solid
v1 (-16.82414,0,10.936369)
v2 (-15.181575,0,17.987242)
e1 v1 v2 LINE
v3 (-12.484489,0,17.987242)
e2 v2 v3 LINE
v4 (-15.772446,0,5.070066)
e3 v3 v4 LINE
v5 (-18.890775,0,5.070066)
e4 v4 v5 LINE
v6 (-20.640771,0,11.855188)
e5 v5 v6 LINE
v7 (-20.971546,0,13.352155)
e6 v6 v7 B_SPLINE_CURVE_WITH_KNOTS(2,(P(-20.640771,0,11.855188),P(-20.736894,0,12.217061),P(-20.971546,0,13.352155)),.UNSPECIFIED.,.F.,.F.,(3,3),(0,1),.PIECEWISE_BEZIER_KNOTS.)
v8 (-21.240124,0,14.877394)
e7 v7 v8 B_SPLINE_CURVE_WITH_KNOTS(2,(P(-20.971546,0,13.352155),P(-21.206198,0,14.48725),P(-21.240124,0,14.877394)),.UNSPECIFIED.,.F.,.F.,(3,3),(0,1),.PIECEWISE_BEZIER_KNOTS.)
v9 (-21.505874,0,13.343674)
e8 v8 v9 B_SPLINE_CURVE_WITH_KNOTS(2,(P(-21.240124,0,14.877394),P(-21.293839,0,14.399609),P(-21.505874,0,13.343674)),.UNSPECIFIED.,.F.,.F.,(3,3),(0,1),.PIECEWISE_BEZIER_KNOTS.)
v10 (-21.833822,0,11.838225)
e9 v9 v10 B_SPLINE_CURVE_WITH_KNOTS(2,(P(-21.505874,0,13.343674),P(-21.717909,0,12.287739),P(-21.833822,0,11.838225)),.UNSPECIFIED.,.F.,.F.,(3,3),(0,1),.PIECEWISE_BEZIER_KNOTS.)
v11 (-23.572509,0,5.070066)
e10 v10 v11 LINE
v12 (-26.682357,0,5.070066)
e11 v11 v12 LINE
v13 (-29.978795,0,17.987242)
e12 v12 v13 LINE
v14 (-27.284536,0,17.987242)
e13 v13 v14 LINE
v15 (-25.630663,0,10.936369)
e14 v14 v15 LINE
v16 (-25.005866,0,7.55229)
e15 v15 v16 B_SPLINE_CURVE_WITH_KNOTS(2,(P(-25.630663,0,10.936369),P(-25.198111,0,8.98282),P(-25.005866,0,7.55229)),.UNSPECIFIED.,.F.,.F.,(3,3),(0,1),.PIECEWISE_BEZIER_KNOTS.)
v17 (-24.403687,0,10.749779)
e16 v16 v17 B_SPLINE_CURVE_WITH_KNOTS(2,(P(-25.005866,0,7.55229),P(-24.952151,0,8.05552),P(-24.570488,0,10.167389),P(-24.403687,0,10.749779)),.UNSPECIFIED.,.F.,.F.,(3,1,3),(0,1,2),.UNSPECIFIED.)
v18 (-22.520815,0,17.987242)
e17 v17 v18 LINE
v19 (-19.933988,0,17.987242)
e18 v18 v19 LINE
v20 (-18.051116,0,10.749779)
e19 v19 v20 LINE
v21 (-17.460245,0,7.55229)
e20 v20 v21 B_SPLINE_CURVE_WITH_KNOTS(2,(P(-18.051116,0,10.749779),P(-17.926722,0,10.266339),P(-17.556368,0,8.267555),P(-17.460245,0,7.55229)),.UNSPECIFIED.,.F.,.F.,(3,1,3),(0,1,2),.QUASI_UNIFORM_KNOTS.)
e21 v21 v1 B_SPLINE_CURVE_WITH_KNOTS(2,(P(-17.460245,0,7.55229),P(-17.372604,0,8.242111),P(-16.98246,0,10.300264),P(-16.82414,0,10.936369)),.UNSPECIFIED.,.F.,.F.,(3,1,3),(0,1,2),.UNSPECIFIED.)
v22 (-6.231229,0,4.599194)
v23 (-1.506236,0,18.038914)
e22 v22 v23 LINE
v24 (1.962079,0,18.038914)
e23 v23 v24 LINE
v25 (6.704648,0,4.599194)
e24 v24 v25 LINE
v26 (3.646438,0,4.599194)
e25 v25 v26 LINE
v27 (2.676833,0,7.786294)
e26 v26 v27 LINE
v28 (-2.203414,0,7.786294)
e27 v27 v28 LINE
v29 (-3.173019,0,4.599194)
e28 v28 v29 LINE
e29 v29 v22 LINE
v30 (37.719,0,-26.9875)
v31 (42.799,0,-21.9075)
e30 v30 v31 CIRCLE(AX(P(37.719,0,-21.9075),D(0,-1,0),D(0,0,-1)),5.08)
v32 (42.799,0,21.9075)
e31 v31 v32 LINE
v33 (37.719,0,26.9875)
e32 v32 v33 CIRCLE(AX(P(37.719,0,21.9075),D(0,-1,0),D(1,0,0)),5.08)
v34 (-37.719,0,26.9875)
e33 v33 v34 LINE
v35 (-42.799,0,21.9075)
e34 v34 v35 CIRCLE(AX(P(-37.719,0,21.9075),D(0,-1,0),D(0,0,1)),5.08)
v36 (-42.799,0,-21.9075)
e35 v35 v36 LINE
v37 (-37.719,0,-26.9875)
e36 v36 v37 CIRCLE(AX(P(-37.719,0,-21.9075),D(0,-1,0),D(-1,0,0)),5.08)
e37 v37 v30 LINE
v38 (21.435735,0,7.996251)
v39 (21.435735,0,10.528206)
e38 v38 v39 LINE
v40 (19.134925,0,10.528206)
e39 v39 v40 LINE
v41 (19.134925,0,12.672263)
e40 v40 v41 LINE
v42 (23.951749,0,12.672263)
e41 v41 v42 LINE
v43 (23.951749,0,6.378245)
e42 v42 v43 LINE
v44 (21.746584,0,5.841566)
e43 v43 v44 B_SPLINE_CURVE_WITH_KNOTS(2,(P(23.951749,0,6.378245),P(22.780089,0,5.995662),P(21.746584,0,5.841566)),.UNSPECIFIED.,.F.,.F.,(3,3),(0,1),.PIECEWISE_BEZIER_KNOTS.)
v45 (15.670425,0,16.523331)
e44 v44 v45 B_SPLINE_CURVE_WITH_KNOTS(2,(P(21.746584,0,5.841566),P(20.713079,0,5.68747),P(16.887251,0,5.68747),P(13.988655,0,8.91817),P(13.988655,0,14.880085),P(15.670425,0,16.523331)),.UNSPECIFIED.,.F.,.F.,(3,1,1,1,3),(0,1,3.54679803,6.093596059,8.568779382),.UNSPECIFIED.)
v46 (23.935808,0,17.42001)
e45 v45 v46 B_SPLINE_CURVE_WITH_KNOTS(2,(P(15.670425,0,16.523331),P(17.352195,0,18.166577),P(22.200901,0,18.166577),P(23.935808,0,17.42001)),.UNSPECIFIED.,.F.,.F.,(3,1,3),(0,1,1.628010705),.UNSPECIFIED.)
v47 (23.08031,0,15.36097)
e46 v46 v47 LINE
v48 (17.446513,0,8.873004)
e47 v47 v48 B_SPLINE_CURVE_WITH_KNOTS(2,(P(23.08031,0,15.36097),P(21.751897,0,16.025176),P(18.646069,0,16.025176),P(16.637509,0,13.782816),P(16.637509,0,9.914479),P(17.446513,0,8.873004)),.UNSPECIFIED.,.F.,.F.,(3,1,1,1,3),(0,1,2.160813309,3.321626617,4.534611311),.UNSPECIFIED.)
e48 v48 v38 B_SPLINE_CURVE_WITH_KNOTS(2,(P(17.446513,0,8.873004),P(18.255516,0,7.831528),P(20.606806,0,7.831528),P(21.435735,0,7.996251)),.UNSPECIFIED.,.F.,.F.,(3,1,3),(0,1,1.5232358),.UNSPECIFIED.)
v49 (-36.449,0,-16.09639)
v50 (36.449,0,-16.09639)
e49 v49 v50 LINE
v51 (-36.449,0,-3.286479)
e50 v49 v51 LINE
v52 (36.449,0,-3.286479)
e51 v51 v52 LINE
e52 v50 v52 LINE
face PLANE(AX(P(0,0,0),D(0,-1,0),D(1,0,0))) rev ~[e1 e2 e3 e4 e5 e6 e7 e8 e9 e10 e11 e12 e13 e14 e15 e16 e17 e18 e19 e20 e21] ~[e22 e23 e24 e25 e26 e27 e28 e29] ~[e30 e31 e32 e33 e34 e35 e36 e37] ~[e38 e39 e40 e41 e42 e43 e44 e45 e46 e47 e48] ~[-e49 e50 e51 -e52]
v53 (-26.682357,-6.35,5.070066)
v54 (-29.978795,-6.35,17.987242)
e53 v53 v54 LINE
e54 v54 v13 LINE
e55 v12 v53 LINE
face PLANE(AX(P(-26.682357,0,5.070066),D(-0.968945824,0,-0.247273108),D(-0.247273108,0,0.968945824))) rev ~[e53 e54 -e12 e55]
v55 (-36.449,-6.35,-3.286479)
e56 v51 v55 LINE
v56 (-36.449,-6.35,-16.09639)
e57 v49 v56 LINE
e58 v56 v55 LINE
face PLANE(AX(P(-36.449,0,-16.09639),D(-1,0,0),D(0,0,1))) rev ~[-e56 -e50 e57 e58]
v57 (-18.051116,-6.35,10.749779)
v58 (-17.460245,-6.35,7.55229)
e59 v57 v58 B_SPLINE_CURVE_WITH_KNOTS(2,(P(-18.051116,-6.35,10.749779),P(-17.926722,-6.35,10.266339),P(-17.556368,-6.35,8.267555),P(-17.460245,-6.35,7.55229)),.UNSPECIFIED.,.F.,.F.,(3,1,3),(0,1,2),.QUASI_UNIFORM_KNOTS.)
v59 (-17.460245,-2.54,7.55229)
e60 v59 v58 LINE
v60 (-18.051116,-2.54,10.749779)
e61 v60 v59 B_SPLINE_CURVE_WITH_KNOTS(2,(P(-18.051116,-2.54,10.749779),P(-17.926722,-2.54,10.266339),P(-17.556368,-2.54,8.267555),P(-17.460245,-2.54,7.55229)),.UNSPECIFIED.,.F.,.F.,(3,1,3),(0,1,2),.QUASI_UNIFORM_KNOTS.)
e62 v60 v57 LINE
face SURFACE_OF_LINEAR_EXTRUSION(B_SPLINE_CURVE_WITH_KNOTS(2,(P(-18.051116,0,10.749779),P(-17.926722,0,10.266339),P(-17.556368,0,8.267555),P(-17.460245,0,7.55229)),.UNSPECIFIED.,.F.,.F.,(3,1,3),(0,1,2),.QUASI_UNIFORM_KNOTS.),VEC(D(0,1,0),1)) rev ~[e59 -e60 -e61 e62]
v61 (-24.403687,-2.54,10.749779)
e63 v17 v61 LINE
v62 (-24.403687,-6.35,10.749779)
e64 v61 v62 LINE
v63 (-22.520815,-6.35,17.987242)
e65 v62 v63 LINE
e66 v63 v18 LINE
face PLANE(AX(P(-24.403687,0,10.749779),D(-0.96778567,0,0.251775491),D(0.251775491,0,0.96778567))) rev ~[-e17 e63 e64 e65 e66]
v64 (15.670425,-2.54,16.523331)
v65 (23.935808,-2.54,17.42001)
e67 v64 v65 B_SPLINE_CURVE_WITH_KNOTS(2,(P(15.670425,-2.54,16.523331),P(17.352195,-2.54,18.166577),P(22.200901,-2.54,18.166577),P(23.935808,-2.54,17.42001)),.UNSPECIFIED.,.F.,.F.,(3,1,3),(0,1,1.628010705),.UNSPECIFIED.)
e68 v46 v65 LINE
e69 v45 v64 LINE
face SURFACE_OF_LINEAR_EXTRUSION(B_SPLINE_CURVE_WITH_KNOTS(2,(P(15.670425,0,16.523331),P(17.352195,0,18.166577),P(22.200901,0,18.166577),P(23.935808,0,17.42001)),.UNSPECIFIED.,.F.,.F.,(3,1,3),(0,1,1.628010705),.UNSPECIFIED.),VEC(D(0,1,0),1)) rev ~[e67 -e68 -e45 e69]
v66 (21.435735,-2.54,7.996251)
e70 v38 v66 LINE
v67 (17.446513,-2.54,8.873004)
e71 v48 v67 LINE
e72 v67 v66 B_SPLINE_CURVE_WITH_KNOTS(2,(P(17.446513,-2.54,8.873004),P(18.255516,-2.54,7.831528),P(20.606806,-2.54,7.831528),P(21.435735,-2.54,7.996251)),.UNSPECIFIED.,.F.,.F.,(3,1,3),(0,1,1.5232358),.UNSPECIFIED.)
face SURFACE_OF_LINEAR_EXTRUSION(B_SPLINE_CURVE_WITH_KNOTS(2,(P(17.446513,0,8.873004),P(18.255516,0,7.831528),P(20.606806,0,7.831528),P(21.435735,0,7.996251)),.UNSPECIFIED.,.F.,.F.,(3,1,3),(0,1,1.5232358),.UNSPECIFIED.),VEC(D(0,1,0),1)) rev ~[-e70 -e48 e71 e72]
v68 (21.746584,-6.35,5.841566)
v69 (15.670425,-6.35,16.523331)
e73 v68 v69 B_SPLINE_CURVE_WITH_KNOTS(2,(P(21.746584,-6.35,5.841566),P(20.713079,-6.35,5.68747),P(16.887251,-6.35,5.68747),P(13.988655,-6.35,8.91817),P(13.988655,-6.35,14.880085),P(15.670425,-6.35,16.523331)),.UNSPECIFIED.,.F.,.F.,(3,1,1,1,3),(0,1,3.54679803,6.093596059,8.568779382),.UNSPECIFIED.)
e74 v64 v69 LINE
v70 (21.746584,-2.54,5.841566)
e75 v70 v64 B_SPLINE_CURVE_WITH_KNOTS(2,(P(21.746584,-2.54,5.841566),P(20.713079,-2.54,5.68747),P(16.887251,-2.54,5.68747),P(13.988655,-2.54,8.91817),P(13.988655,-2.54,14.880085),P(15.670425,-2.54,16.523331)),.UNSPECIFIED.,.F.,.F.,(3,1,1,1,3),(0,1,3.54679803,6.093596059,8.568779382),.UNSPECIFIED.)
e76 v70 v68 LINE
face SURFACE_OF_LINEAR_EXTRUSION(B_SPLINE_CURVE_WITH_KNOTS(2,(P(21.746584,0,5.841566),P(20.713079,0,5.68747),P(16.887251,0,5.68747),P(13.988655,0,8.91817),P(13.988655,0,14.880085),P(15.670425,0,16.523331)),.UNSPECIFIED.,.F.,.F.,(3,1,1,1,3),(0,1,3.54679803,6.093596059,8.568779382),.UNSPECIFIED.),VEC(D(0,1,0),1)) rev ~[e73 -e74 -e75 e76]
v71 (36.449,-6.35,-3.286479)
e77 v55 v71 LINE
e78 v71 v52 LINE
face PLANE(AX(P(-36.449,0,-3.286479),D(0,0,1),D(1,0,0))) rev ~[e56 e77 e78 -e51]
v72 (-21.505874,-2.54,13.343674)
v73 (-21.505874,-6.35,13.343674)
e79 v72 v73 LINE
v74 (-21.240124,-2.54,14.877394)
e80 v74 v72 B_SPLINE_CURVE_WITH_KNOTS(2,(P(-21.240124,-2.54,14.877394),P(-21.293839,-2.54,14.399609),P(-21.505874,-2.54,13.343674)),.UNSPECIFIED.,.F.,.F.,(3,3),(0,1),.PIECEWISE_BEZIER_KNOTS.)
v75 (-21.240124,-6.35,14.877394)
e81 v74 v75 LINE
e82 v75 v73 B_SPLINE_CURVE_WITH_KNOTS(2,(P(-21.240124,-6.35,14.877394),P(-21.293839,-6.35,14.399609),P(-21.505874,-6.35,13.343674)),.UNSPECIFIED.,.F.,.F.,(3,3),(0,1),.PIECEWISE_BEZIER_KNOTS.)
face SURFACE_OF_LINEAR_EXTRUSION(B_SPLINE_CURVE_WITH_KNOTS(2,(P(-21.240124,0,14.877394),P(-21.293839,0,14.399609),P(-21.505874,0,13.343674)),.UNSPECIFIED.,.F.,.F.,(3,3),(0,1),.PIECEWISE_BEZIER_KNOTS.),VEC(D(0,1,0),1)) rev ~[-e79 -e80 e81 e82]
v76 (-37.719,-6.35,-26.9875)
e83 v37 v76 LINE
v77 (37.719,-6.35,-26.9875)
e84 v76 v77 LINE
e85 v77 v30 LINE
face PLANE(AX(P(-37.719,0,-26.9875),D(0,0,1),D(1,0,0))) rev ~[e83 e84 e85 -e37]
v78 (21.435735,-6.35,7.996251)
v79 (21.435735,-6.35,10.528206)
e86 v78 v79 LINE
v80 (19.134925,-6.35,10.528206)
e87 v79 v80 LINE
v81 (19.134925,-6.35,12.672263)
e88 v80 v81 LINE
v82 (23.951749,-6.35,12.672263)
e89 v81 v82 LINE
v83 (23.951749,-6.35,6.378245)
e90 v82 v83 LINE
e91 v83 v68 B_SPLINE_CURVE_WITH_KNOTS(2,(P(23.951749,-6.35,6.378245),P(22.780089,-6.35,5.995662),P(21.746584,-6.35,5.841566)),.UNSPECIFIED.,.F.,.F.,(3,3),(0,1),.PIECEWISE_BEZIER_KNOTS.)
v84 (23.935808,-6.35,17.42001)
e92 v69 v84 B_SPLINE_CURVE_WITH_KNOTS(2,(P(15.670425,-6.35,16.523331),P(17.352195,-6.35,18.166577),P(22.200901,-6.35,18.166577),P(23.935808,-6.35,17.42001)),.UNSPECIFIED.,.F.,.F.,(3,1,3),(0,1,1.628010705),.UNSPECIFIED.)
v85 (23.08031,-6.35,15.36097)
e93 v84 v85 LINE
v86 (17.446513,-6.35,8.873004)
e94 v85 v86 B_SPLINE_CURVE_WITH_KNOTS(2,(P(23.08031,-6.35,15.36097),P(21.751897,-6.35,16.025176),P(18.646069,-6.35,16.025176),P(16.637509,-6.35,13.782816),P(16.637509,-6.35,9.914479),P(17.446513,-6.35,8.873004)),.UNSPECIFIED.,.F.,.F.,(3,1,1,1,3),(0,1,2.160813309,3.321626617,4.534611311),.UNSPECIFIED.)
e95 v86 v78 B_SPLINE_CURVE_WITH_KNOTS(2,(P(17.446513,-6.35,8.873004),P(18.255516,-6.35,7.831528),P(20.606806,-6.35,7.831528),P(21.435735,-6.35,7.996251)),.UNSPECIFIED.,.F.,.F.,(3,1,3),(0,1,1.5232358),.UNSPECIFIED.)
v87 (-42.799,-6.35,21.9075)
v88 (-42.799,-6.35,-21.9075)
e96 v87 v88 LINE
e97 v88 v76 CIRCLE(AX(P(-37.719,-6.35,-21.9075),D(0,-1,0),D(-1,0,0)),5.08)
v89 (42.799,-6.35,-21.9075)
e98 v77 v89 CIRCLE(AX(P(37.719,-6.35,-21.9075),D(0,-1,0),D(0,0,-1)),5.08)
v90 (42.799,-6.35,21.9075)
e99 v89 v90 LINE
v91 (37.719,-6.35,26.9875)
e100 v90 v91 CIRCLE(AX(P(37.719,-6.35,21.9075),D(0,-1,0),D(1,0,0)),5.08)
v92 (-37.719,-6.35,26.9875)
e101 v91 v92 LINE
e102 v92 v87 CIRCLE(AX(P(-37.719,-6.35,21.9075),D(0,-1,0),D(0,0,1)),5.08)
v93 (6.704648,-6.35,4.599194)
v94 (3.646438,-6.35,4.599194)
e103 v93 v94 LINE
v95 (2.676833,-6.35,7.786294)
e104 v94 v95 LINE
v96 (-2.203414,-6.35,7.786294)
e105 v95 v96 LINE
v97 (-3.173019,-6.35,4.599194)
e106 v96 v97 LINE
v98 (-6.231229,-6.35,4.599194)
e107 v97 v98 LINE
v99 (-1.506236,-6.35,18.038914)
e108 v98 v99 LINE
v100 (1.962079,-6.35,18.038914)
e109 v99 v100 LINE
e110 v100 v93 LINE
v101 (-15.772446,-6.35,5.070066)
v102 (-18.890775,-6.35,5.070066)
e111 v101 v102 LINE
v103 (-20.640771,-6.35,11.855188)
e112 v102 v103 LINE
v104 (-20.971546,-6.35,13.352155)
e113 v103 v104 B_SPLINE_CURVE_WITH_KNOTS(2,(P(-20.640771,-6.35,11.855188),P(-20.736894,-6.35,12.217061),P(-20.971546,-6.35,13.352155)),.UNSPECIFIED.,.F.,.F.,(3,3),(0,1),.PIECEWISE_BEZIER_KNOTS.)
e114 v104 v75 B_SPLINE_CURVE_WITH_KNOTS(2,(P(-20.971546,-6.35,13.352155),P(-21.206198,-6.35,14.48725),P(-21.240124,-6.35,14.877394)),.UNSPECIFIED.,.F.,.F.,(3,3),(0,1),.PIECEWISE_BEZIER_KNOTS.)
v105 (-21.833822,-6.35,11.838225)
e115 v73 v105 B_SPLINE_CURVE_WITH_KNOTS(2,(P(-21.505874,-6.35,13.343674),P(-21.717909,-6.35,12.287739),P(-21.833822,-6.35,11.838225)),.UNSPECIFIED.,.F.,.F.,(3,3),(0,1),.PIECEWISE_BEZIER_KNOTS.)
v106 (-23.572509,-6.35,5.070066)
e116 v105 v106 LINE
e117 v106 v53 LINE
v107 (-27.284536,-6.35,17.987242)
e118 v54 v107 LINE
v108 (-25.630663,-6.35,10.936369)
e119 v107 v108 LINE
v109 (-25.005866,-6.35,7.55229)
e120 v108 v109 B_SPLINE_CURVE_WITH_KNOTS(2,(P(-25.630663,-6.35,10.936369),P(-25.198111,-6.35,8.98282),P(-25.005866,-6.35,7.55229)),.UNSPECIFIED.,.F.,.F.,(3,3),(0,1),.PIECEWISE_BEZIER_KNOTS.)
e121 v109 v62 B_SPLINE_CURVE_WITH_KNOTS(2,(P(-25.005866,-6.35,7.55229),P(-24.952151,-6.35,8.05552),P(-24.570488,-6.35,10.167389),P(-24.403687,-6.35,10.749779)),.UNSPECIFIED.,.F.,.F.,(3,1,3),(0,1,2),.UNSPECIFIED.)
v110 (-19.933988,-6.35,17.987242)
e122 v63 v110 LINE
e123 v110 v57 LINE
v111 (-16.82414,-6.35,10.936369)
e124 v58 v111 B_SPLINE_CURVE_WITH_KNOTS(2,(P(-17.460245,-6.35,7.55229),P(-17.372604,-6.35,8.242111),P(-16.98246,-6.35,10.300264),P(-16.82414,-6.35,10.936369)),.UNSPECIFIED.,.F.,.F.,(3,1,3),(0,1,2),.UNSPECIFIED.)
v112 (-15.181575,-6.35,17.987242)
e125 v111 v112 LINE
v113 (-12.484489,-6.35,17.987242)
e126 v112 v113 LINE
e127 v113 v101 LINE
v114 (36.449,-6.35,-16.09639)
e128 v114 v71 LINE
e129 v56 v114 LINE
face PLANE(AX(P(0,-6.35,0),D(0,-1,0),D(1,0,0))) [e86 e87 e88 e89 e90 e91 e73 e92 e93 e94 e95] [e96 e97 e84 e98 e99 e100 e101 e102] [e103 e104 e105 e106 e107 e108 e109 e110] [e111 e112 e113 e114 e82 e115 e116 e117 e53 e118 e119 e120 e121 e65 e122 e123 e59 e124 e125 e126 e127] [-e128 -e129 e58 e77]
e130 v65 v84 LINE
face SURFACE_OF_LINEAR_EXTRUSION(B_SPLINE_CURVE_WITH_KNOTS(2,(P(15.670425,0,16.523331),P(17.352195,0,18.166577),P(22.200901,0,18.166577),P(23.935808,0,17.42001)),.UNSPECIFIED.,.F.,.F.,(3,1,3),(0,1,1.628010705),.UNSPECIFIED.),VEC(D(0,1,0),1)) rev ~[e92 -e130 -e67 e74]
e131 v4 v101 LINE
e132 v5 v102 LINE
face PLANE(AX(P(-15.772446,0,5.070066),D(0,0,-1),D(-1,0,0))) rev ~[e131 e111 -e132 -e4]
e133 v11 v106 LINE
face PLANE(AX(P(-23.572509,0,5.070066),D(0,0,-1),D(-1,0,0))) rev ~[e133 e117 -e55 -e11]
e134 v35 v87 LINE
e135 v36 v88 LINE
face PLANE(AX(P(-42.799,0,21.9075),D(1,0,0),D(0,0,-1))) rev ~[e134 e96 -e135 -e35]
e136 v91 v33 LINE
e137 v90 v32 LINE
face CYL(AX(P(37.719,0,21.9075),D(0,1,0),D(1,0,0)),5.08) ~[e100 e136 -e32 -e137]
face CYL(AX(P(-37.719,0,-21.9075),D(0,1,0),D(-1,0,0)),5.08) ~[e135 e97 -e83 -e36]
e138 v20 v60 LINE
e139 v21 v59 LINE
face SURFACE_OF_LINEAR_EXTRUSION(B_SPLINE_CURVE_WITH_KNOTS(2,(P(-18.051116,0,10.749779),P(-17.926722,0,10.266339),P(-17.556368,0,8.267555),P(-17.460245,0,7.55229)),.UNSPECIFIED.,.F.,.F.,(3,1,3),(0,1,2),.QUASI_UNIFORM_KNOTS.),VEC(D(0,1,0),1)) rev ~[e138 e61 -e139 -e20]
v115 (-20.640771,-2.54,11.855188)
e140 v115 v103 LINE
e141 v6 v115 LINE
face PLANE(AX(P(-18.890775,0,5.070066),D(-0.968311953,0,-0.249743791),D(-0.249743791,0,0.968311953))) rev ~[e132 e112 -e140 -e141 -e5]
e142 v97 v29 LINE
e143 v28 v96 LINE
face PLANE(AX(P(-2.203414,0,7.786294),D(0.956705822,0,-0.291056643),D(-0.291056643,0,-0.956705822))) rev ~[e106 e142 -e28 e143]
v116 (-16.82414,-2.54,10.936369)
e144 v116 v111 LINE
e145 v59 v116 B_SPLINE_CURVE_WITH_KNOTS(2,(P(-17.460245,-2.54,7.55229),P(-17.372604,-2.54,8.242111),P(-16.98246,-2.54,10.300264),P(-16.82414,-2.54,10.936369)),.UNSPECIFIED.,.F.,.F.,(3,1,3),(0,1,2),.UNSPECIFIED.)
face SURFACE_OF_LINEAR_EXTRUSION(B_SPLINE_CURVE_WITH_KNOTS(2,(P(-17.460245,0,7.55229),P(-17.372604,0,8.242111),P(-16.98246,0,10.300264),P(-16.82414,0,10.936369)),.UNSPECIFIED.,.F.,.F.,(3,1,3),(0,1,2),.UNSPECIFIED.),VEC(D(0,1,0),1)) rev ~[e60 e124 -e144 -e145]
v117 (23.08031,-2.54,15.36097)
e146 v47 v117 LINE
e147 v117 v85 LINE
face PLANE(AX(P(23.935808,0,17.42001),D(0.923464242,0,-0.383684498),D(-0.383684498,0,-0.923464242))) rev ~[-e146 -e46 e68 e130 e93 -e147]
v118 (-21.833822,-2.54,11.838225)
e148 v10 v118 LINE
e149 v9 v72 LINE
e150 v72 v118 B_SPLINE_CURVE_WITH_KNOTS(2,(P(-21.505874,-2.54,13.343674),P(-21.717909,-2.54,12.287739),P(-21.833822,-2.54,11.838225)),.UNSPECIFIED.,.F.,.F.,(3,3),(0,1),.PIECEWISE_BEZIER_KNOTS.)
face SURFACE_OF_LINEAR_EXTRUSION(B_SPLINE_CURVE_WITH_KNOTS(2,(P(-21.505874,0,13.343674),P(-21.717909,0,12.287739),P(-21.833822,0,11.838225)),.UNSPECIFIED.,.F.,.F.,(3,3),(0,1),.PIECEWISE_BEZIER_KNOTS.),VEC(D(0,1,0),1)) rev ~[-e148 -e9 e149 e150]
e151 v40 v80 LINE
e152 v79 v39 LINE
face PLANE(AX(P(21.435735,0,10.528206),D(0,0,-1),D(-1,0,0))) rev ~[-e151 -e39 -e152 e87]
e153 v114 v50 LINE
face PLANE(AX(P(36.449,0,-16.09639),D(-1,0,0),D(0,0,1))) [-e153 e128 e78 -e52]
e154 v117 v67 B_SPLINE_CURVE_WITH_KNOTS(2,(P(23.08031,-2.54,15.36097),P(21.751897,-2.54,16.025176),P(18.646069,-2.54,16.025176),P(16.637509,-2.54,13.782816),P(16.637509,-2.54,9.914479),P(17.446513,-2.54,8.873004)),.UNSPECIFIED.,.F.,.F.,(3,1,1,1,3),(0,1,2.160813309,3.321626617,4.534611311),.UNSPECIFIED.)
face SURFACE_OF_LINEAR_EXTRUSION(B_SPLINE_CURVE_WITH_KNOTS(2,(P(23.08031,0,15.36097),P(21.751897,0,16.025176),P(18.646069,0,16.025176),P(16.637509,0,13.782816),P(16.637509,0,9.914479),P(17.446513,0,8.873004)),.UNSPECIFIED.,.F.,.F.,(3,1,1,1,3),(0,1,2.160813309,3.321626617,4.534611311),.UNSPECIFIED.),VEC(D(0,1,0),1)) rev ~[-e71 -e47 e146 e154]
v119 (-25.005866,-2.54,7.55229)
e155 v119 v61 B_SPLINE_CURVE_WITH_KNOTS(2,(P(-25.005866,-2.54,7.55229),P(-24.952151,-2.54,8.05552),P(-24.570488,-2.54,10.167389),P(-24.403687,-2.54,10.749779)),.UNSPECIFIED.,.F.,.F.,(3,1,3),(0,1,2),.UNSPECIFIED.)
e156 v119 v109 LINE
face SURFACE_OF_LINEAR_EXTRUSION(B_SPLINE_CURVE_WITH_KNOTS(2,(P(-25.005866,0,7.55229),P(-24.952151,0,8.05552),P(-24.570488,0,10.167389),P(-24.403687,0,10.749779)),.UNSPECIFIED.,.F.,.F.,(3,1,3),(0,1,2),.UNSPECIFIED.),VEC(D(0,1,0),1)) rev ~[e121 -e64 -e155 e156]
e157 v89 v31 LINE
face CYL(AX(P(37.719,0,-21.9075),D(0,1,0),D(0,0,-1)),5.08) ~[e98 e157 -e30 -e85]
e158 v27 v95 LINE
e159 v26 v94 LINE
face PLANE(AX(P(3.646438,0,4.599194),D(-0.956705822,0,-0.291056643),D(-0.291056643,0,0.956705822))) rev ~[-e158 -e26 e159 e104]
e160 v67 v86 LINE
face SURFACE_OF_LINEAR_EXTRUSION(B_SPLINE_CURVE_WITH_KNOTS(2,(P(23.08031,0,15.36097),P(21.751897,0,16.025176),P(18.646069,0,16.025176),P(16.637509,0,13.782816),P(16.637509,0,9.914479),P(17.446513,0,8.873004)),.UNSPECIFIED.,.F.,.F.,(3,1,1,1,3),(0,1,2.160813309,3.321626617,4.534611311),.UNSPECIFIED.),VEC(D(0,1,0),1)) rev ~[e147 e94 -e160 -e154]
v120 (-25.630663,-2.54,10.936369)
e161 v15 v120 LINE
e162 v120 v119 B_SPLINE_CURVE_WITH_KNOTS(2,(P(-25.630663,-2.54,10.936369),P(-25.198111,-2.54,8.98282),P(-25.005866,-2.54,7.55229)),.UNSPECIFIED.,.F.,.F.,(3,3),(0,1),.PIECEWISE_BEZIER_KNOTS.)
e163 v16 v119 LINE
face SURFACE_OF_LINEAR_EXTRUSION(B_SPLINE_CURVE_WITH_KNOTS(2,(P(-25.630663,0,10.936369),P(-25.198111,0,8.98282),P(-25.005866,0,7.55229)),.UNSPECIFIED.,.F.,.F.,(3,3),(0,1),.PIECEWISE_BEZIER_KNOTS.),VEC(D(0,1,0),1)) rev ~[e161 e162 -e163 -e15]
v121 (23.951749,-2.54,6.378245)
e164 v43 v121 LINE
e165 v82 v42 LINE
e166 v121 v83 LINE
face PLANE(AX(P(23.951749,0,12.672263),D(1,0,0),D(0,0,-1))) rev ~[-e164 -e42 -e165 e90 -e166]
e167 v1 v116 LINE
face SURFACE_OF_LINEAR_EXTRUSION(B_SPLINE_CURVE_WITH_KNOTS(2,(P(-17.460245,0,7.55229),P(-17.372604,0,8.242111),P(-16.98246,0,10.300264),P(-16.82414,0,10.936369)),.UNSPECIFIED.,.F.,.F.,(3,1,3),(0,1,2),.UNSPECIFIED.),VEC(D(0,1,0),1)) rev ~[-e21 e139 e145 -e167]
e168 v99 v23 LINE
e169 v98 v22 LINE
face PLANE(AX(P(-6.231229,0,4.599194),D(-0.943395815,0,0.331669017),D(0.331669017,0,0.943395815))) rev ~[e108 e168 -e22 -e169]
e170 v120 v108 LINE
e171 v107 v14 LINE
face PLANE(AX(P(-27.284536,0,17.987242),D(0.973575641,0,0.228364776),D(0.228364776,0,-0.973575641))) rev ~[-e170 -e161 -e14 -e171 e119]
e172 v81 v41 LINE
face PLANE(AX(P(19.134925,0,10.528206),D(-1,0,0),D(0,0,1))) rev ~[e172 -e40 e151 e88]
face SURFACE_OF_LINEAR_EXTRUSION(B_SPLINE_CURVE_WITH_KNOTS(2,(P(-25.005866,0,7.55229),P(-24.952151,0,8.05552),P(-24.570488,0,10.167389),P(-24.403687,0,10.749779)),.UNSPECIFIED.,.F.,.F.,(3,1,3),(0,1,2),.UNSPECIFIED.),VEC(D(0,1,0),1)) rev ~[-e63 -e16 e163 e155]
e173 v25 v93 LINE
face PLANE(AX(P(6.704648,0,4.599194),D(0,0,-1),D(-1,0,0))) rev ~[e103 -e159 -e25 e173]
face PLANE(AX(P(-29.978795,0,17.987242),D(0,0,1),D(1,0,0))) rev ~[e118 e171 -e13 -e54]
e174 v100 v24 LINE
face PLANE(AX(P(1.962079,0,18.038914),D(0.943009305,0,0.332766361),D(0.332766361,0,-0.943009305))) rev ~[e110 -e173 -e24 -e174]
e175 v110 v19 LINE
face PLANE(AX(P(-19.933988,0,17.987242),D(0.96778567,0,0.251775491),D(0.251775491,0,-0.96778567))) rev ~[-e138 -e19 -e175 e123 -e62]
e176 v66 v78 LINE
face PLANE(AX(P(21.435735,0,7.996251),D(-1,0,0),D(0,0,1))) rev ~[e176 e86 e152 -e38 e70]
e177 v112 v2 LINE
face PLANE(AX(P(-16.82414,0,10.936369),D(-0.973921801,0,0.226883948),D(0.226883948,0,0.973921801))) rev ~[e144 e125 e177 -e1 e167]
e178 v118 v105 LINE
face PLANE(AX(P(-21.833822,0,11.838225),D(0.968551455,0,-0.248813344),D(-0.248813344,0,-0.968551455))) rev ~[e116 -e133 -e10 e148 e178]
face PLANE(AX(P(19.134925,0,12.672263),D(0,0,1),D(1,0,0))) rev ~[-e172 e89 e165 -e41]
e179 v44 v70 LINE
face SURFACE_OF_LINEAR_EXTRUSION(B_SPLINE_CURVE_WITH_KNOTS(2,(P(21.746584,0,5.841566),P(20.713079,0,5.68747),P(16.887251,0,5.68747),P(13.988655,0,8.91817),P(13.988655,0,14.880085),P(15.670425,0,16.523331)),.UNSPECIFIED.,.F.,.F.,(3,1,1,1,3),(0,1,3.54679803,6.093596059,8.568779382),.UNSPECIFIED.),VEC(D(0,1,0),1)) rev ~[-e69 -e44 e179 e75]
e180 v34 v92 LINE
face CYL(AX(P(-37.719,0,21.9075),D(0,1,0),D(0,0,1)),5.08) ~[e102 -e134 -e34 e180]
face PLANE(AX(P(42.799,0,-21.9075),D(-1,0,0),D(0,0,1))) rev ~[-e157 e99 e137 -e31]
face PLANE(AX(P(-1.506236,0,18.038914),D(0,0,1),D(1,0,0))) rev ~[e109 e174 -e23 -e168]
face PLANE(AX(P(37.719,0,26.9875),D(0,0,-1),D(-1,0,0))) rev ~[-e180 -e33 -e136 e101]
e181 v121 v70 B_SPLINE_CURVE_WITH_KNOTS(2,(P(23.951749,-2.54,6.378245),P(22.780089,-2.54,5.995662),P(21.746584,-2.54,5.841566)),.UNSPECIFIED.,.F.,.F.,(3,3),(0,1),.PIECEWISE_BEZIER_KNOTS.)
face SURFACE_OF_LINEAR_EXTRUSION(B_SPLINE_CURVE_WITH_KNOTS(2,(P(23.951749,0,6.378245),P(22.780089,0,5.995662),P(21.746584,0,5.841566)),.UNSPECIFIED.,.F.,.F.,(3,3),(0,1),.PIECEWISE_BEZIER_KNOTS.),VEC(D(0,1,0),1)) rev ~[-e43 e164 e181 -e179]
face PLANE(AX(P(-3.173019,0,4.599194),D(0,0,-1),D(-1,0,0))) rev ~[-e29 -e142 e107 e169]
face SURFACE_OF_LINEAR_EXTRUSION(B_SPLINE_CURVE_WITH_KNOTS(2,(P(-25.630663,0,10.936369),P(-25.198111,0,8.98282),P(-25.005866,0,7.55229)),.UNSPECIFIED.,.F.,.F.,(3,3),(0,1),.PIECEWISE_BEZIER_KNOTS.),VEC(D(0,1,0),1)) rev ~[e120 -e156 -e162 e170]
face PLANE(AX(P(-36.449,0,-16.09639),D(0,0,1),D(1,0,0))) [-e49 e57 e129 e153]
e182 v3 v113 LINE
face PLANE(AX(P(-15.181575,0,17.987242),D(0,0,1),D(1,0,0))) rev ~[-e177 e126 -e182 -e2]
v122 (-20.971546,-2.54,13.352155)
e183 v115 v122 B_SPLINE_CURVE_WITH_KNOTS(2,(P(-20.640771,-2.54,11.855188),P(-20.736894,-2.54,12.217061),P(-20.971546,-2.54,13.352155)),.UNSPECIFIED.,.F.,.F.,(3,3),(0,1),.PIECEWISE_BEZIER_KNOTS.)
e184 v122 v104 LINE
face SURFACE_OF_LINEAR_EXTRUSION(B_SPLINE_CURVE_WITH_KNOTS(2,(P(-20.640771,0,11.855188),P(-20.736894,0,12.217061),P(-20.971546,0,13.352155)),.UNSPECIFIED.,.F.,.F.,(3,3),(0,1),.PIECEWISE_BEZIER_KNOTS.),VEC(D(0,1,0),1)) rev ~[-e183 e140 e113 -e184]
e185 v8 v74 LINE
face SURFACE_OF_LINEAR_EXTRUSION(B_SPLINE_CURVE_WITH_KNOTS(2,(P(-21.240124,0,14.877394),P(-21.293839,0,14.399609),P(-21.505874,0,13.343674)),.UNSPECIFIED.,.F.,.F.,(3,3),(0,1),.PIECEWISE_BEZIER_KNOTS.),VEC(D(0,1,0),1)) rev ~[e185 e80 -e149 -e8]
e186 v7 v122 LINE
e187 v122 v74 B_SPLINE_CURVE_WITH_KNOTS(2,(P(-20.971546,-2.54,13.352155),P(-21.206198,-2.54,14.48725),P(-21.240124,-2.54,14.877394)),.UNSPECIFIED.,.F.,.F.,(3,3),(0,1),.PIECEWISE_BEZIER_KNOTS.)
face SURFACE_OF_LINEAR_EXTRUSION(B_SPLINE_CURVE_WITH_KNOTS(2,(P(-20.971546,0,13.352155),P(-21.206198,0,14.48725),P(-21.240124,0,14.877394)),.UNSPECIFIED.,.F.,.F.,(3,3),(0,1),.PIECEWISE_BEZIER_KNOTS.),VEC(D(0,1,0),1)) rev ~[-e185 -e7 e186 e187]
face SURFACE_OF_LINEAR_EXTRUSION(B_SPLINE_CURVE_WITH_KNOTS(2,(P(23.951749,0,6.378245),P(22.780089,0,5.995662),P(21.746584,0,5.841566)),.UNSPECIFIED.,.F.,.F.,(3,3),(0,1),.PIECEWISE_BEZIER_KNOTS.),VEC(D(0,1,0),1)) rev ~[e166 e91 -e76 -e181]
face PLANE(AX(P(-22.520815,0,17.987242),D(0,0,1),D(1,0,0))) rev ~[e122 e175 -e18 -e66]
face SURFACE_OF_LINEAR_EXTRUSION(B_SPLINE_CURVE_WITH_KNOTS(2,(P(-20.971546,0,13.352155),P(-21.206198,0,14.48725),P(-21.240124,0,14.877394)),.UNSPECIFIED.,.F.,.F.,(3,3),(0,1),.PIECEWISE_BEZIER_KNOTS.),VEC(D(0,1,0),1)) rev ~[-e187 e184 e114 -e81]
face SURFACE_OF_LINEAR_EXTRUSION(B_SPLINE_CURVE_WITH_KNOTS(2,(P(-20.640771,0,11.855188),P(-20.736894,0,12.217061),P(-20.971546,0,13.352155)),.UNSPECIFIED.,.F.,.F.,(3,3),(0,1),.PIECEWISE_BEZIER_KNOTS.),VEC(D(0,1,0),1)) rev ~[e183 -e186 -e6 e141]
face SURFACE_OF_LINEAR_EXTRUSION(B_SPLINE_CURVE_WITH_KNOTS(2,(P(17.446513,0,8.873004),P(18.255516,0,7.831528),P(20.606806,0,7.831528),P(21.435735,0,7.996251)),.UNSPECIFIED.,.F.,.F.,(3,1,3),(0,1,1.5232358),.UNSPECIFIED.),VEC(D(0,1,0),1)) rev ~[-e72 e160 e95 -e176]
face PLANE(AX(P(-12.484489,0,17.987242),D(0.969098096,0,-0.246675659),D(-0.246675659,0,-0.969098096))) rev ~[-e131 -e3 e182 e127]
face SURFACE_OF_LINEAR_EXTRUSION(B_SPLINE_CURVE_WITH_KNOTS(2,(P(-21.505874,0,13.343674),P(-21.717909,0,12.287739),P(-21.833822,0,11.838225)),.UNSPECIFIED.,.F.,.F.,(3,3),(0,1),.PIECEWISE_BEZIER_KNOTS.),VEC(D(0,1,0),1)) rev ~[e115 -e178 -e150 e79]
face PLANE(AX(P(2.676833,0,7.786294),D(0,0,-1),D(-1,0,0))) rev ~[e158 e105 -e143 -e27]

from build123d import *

# Parameters (mm, degrees)
F0_W     = 72.898
F0_H     = 12.8099111192
F1_DEPTH = 2.54
F2_DEPTH = 6.35


with BuildPart() as f1:
    # F0 (on Front) → F1 (new body)
    with BuildSketch(Plane.XZ):
        with BuildLine():
            Line((37.719, 26.9875), (-37.719, 26.9875))
            ThreePointArc((-37.719, 26.9875), (-41.3111024484, 25.4996024484), (-42.799, 21.9075))
            Line((-42.799, 21.9075), (-42.799, -21.9075))
            ThreePointArc((-42.799, -21.9075), (-41.3111024484, -25.4996024484), (-37.719, -26.9875))
            Line((-37.719, -26.9875), (37.719, -26.9875))
            ThreePointArc((37.719, -26.9875), (41.3111024484, -25.4996024484), (42.799, -21.9075))
            Line((42.799, -21.9075), (42.799, 21.9075))
            ThreePointArc((42.799, 21.9075), (41.3111024484, 25.4996024484), (37.719, 26.9875))
        make_face()
        with Locations((0, -9.6914345084)):
            Rectangle(F0_W, F0_H, mode=Mode.SUBTRACT)
        with BuildLine():
            Line((-12.4844893827, 17.9872417715), (-15.7724463003, 5.0700662284))
            Line((-15.7724463003, 5.0700662284), (-18.890775174, 5.0700662284))
            Line((-18.890775174, 5.0700662284), (-20.6407711603, 11.8551879844))
            add(Edge.make_bspline(
                [(-20.6407711603, 11.8551879844), (-20.7368937185, 12.2170611447), (-20.9715458459, 13.3521554719)],
                knots=[0, 0, 0, 1, 1, 1], degree=2))
            add(Edge.make_bspline(
                [(-20.9715458459, 13.3521554719), (-21.2061979733, 14.487249799), (-21.2401235821, 14.8773942999)],
                knots=[0, 0, 0, 1, 1, 1], degree=2))
            add(Edge.make_bspline(
                [(-21.2401235821, 14.8773942999), (-21.2938391293, 14.3996086429), (-21.5058741842, 13.3436740697)],
                knots=[0, 0, 0, 1, 1, 1], degree=2))
            add(Edge.make_bspline(
                [(-21.5058741842, 13.3436740697), (-21.7179092391, 12.2877394964), (-21.8338217357, 11.83822518)],
                knots=[0, 0, 0, 1, 1, 1], degree=2))
            Line((-21.8338217357, 11.83822518), (-23.5725091857, 5.0700662284))
            Line((-23.5725091857, 5.0700662284), (-26.6823566572, 5.0700662284))
            Line((-26.6823566572, 5.0700662284), (-29.9787949771, 17.9872417715))
            Line((-29.9787949771, 17.9872417715), (-27.2845362131, 17.9872417715))
            Line((-27.2845362131, 17.9872417715), (-25.6306627851, 10.9363694133))
            add(Edge.make_bspline(
                [(-25.6306627851, 10.9363694133), (-25.1981112731, 8.9828197744), (-25.0058661567, 7.5522899375)],
                knots=[0, 0, 0, 1, 1, 1], degree=2))
            add(Edge.make_bspline(
                [(-25.0058661567, 7.5522899375), (-24.9521506095, 8.055519801), (-24.7613190601, 9.1114543743)],
                knots=[0, 0, 0, 1, 1, 1], degree=2))
            add(Edge.make_bspline(
                [(-24.7613190601, 9.1114543743), (-24.5704875107, 10.1673889476), (-24.4036866008, 10.749778565)],
                knots=[0, 0, 0, 1, 1, 1], degree=2))
            Line((-24.4036866008, 10.749778565), (-22.5208153135, 17.9872417715))
            Line((-22.5208153135, 17.9872417715), (-19.933987644, 17.9872417715))
            Line((-19.933987644, 17.9872417715), (-18.0511163567, 10.749778565))
            add(Edge.make_bspline(
                [(-18.0511163567, 10.749778565), (-17.9267224579, 10.2663386399), (-17.7415451766, 9.2669467479)],
                knots=[0, 0, 0, 1, 1, 1], degree=2))
            add(Edge.make_bspline(
                [(-17.7415451766, 9.2669467479), (-17.5563678953, 8.2675548559), (-17.4602453371, 7.5522899375)],
                knots=[0, 0, 0, 1, 1, 1], degree=2))
            add(Edge.make_bspline(
                [(-17.4602453371, 7.5522899375), (-17.3726041811, 8.2421106493), (-17.1775319306, 9.271187449)],
                knots=[0, 0, 0, 1, 1, 1], degree=2))
            add(Edge.make_bspline(
                [(-17.1775319306, 9.271187449), (-16.9824596801, 10.3002642487), (-16.8241401725, 10.9363694133)],
                knots=[0, 0, 0, 1, 1, 1], degree=2))
            Line((-16.8241401725, 10.9363694133), (-15.1815752807, 17.9872417715))
            Line((-15.1815752807, 17.9872417715), (-12.4844893827, 17.9872417715))
        make_face(mode=Mode.SUBTRACT)
        Polygon((6.7046481006, 4.5991937256), (3.6464380853, 4.5991937256), (2.6768331858, 7.7862938182), (-2.2034138309, 7.7862938182), (-3.1730187304, 4.5991937256), (-6.2312287457, 4.5991937256), (-1.5062356857, 18.0389136012), (1.962079121, 18.0389136012), align=None, mode=Mode.SUBTRACT)
        with BuildLine():
            Line((19.1349248409, 10.5282055244), (19.1349248409, 12.6722633137))
            Line((19.1349248409, 12.6722633137), (23.9517485981, 12.6722633137))
            Line((23.9517485981, 12.6722633137), (23.9517485981, 6.3782448466))
            add(Edge.make_bspline(
                [(23.9517485981, 6.3782448466), (22.7800887653, 5.9956620441), (21.7465838334, 5.841566193)],
                knots=[0, 0, 0, 1, 1, 1], degree=2))
            add(Edge.make_bspline(
                [(21.7465838334, 5.841566193), (20.7130789015, 5.687470342), (19.6344079443, 5.687470342)],
                knots=[0, 0, 0, 1, 1, 1], degree=2))
            add(Edge.make_bspline(
                [(19.6344079443, 5.687470342), (16.8872508759, 5.687470342), (15.4379528287, 7.3028199528)],
                knots=[0, 0, 0, 1, 1, 1], degree=2))
            add(Edge.make_bspline(
                [(15.4379528287, 7.3028199528), (13.9886547815, 8.9181695636), (13.9886547815, 11.9416364338)],
                knots=[0, 0, 0, 1, 1, 1], degree=2))
            add(Edge.make_bspline(
                [(13.9886547815, 11.9416364338), (13.9886547815, 14.8800849035), (15.6704250177, 16.523331177)],
                knots=[0, 0, 0, 1, 1, 1], degree=2))
            add(Edge.make_bspline(
                [(15.6704250177, 16.523331177), (17.352195254, 18.1665774505), (20.3304960989, 18.1665774505)],
                knots=[0, 0, 0, 1, 1, 1], degree=2))
            add(Edge.make_bspline(
                [(20.3304960989, 18.1665774505), (22.2009009114, 18.1665774505), (23.935807648, 17.4200096205)],
                knots=[0, 0, 0, 1, 1, 1], degree=2))
            Line((23.935807648, 17.4200096205), (23.0803099923, 15.3609702317))
            add(Edge.make_bspline(
                [(23.0803099923, 15.3609702317), (21.7518974834, 16.0251764861), (20.3145551488, 16.0251764861)],
                knots=[0, 0, 0, 1, 1, 1], degree=2))
            add(Edge.make_bspline(
                [(20.3145551488, 16.0251764861), (18.6460690376, 16.0251764861), (17.6417891809, 14.9039963286)],
                knots=[0, 0, 0, 1, 1, 1], degree=2))
            add(Edge.make_bspline(
                [(17.6417891809, 14.9039963286), (16.6375093242, 13.7828161711), (16.6375093242, 11.8911567585)],
                knots=[0, 0, 0, 1, 1, 1], degree=2))
            add(Edge.make_bspline(
                [(16.6375093242, 11.8911567585), (16.6375093242, 9.9144789453), (17.4465125421, 8.8730035383)],
                knots=[0, 0, 0, 1, 1, 1], degree=2))
            add(Edge.make_bspline(
                [(17.4465125421, 8.8730035383), (18.25551576, 7.8315281314), (19.7991310954, 7.8315281314)],
                knots=[0, 0, 0, 1, 1, 1], degree=2))
            add(Edge.make_bspline(
                [(19.7991310954, 7.8315281314), (20.6068059008, 7.8315281314), (21.4357353063, 7.9962512825)],
                knots=[0, 0, 0, 1, 1, 1], degree=2))
            Line((21.4357353063, 7.9962512825), (21.4357353063, 10.5282055244))
            Line((21.4357353063, 10.5282055244), (19.1349248409, 10.5282055244))
        make_face(mode=Mode.SUBTRACT)
    extrude(amount=F1_DEPTH)

    # F0 (on Front) → F2 (join)
    with BuildSketch(Plane.XZ):
        with BuildLine():
            Line((37.719, 26.9875), (-37.719, 26.9875))
            ThreePointArc((-37.719, 26.9875), (-41.3111024484, 25.4996024484), (-42.799, 21.9075))
            Line((-42.799, 21.9075), (-42.799, -21.9075))
            ThreePointArc((-42.799, -21.9075), (-41.3111024484, -25.4996024484), (-37.719, -26.9875))
            Line((-37.719, -26.9875), (37.719, -26.9875))
            ThreePointArc((37.719, -26.9875), (41.3111024484, -25.4996024484), (42.799, -21.9075))
            Line((42.799, -21.9075), (42.799, 21.9075))
            ThreePointArc((42.799, 21.9075), (41.3111024484, 25.4996024484), (37.719, 26.9875))
        make_face()
        with Locations((0, -9.6914345084)):
            Rectangle(F0_W, F0_H, mode=Mode.SUBTRACT)
        with BuildLine():
            Line((-12.4844893827, 17.9872417715), (-15.7724463003, 5.0700662284))
            Line((-15.7724463003, 5.0700662284), (-18.890775174, 5.0700662284))
            Line((-18.890775174, 5.0700662284), (-20.6407711603, 11.8551879844))
            add(Edge.make_bspline(
                [(-20.6407711603, 11.8551879844), (-20.7368937185, 12.2170611447), (-20.9715458459, 13.3521554719)],
                knots=[0, 0, 0, 1, 1, 1], degree=2))
            add(Edge.make_bspline(
                [(-20.9715458459, 13.3521554719), (-21.2061979733, 14.487249799), (-21.2401235821, 14.8773942999)],
                knots=[0, 0, 0, 1, 1, 1], degree=2))
            add(Edge.make_bspline(
                [(-21.2401235821, 14.8773942999), (-21.2938391293, 14.3996086429), (-21.5058741842, 13.3436740697)],
                knots=[0, 0, 0, 1, 1, 1], degree=2))
            add(Edge.make_bspline(
                [(-21.5058741842, 13.3436740697), (-21.7179092391, 12.2877394964), (-21.8338217357, 11.83822518)],
                knots=[0, 0, 0, 1, 1, 1], degree=2))
            Line((-21.8338217357, 11.83822518), (-23.5725091857, 5.0700662284))
            Line((-23.5725091857, 5.0700662284), (-26.6823566572, 5.0700662284))
            Line((-26.6823566572, 5.0700662284), (-29.9787949771, 17.9872417715))
            Line((-29.9787949771, 17.9872417715), (-27.2845362131, 17.9872417715))
            Line((-27.2845362131, 17.9872417715), (-25.6306627851, 10.9363694133))
            add(Edge.make_bspline(
                [(-25.6306627851, 10.9363694133), (-25.1981112731, 8.9828197744), (-25.0058661567, 7.5522899375)],
                knots=[0, 0, 0, 1, 1, 1], degree=2))
            add(Edge.make_bspline(
                [(-25.0058661567, 7.5522899375), (-24.9521506095, 8.055519801), (-24.7613190601, 9.1114543743)],
                knots=[0, 0, 0, 1, 1, 1], degree=2))
            add(Edge.make_bspline(
                [(-24.7613190601, 9.1114543743), (-24.5704875107, 10.1673889476), (-24.4036866008, 10.749778565)],
                knots=[0, 0, 0, 1, 1, 1], degree=2))
            Line((-24.4036866008, 10.749778565), (-22.5208153135, 17.9872417715))
            Line((-22.5208153135, 17.9872417715), (-19.933987644, 17.9872417715))
            Line((-19.933987644, 17.9872417715), (-18.0511163567, 10.749778565))
            add(Edge.make_bspline(
                [(-18.0511163567, 10.749778565), (-17.9267224579, 10.2663386399), (-17.7415451766, 9.2669467479)],
                knots=[0, 0, 0, 1, 1, 1], degree=2))
            add(Edge.make_bspline(
                [(-17.7415451766, 9.2669467479), (-17.5563678953, 8.2675548559), (-17.4602453371, 7.5522899375)],
                knots=[0, 0, 0, 1, 1, 1], degree=2))
            add(Edge.make_bspline(
                [(-17.4602453371, 7.5522899375), (-17.3726041811, 8.2421106493), (-17.1775319306, 9.271187449)],
                knots=[0, 0, 0, 1, 1, 1], degree=2))
            add(Edge.make_bspline(
                [(-17.1775319306, 9.271187449), (-16.9824596801, 10.3002642487), (-16.8241401725, 10.9363694133)],
                knots=[0, 0, 0, 1, 1, 1], degree=2))
            Line((-16.8241401725, 10.9363694133), (-15.1815752807, 17.9872417715))
            Line((-15.1815752807, 17.9872417715), (-12.4844893827, 17.9872417715))
        make_face(mode=Mode.SUBTRACT)
        Polygon((6.7046481006, 4.5991937256), (3.6464380853, 4.5991937256), (2.6768331858, 7.7862938182), (-2.2034138309, 7.7862938182), (-3.1730187304, 4.5991937256), (-6.2312287457, 4.5991937256), (-1.5062356857, 18.0389136012), (1.962079121, 18.0389136012), align=None, mode=Mode.SUBTRACT)
        with BuildLine():
            Line((19.1349248409, 10.5282055244), (19.1349248409, 12.6722633137))
            Line((19.1349248409, 12.6722633137), (23.9517485981, 12.6722633137))
            Line((23.9517485981, 12.6722633137), (23.9517485981, 6.3782448466))
            add(Edge.make_bspline(
                [(23.9517485981, 6.3782448466), (22.7800887653, 5.9956620441), (21.7465838334, 5.841566193)],
                knots=[0, 0, 0, 1, 1, 1], degree=2))
            add(Edge.make_bspline(
                [(21.7465838334, 5.841566193), (20.7130789015, 5.687470342), (19.6344079443, 5.687470342)],
                knots=[0, 0, 0, 1, 1, 1], degree=2))
            add(Edge.make_bspline(
                [(19.6344079443, 5.687470342), (16.8872508759, 5.687470342), (15.4379528287, 7.3028199528)],
                knots=[0, 0, 0, 1, 1, 1], degree=2))
            add(Edge.make_bspline(
                [(15.4379528287, 7.3028199528), (13.9886547815, 8.9181695636), (13.9886547815, 11.9416364338)],
                knots=[0, 0, 0, 1, 1, 1], degree=2))
            add(Edge.make_bspline(
                [(13.9886547815, 11.9416364338), (13.9886547815, 14.8800849035), (15.6704250177, 16.523331177)],
                knots=[0, 0, 0, 1, 1, 1], degree=2))
            add(Edge.make_bspline(
                [(15.6704250177, 16.523331177), (17.352195254, 18.1665774505), (20.3304960989, 18.1665774505)],
                knots=[0, 0, 0, 1, 1, 1], degree=2))
            add(Edge.make_bspline(
                [(20.3304960989, 18.1665774505), (22.2009009114, 18.1665774505), (23.935807648, 17.4200096205)],
                knots=[0, 0, 0, 1, 1, 1], degree=2))
            Line((23.935807648, 17.4200096205), (23.0803099923, 15.3609702317))
            add(Edge.make_bspline(
                [(23.0803099923, 15.3609702317), (21.7518974834, 16.0251764861), (20.3145551488, 16.0251764861)],
                knots=[0, 0, 0, 1, 1, 1], degree=2))
            add(Edge.make_bspline(
                [(20.3145551488, 16.0251764861), (18.6460690376, 16.0251764861), (17.6417891809, 14.9039963286)],
                knots=[0, 0, 0, 1, 1, 1], degree=2))
            add(Edge.make_bspline(
                [(17.6417891809, 14.9039963286), (16.6375093242, 13.7828161711), (16.6375093242, 11.8911567585)],
                knots=[0, 0, 0, 1, 1, 1], degree=2))
            add(Edge.make_bspline(
                [(16.6375093242, 11.8911567585), (16.6375093242, 9.9144789453), (17.4465125421, 8.8730035383)],
                knots=[0, 0, 0, 1, 1, 1], degree=2))
            add(Edge.make_bspline(
                [(17.4465125421, 8.8730035383), (18.25551576, 7.8315281314), (19.7991310954, 7.8315281314)],
                knots=[0, 0, 0, 1, 1, 1], degree=2))
            add(Edge.make_bspline(
                [(19.7991310954, 7.8315281314), (20.6068059008, 7.8315281314), (21.4357353063, 7.9962512825)],
                knots=[0, 0, 0, 1, 1, 1], degree=2))
            Line((21.4357353063, 7.9962512825), (21.4357353063, 10.5282055244))
            Line((21.4357353063, 10.5282055244), (19.1349248409, 10.5282055244))
        make_face(mode=Mode.SUBTRACT)
    extrude(amount=F2_DEPTH)


solid = f1.part
